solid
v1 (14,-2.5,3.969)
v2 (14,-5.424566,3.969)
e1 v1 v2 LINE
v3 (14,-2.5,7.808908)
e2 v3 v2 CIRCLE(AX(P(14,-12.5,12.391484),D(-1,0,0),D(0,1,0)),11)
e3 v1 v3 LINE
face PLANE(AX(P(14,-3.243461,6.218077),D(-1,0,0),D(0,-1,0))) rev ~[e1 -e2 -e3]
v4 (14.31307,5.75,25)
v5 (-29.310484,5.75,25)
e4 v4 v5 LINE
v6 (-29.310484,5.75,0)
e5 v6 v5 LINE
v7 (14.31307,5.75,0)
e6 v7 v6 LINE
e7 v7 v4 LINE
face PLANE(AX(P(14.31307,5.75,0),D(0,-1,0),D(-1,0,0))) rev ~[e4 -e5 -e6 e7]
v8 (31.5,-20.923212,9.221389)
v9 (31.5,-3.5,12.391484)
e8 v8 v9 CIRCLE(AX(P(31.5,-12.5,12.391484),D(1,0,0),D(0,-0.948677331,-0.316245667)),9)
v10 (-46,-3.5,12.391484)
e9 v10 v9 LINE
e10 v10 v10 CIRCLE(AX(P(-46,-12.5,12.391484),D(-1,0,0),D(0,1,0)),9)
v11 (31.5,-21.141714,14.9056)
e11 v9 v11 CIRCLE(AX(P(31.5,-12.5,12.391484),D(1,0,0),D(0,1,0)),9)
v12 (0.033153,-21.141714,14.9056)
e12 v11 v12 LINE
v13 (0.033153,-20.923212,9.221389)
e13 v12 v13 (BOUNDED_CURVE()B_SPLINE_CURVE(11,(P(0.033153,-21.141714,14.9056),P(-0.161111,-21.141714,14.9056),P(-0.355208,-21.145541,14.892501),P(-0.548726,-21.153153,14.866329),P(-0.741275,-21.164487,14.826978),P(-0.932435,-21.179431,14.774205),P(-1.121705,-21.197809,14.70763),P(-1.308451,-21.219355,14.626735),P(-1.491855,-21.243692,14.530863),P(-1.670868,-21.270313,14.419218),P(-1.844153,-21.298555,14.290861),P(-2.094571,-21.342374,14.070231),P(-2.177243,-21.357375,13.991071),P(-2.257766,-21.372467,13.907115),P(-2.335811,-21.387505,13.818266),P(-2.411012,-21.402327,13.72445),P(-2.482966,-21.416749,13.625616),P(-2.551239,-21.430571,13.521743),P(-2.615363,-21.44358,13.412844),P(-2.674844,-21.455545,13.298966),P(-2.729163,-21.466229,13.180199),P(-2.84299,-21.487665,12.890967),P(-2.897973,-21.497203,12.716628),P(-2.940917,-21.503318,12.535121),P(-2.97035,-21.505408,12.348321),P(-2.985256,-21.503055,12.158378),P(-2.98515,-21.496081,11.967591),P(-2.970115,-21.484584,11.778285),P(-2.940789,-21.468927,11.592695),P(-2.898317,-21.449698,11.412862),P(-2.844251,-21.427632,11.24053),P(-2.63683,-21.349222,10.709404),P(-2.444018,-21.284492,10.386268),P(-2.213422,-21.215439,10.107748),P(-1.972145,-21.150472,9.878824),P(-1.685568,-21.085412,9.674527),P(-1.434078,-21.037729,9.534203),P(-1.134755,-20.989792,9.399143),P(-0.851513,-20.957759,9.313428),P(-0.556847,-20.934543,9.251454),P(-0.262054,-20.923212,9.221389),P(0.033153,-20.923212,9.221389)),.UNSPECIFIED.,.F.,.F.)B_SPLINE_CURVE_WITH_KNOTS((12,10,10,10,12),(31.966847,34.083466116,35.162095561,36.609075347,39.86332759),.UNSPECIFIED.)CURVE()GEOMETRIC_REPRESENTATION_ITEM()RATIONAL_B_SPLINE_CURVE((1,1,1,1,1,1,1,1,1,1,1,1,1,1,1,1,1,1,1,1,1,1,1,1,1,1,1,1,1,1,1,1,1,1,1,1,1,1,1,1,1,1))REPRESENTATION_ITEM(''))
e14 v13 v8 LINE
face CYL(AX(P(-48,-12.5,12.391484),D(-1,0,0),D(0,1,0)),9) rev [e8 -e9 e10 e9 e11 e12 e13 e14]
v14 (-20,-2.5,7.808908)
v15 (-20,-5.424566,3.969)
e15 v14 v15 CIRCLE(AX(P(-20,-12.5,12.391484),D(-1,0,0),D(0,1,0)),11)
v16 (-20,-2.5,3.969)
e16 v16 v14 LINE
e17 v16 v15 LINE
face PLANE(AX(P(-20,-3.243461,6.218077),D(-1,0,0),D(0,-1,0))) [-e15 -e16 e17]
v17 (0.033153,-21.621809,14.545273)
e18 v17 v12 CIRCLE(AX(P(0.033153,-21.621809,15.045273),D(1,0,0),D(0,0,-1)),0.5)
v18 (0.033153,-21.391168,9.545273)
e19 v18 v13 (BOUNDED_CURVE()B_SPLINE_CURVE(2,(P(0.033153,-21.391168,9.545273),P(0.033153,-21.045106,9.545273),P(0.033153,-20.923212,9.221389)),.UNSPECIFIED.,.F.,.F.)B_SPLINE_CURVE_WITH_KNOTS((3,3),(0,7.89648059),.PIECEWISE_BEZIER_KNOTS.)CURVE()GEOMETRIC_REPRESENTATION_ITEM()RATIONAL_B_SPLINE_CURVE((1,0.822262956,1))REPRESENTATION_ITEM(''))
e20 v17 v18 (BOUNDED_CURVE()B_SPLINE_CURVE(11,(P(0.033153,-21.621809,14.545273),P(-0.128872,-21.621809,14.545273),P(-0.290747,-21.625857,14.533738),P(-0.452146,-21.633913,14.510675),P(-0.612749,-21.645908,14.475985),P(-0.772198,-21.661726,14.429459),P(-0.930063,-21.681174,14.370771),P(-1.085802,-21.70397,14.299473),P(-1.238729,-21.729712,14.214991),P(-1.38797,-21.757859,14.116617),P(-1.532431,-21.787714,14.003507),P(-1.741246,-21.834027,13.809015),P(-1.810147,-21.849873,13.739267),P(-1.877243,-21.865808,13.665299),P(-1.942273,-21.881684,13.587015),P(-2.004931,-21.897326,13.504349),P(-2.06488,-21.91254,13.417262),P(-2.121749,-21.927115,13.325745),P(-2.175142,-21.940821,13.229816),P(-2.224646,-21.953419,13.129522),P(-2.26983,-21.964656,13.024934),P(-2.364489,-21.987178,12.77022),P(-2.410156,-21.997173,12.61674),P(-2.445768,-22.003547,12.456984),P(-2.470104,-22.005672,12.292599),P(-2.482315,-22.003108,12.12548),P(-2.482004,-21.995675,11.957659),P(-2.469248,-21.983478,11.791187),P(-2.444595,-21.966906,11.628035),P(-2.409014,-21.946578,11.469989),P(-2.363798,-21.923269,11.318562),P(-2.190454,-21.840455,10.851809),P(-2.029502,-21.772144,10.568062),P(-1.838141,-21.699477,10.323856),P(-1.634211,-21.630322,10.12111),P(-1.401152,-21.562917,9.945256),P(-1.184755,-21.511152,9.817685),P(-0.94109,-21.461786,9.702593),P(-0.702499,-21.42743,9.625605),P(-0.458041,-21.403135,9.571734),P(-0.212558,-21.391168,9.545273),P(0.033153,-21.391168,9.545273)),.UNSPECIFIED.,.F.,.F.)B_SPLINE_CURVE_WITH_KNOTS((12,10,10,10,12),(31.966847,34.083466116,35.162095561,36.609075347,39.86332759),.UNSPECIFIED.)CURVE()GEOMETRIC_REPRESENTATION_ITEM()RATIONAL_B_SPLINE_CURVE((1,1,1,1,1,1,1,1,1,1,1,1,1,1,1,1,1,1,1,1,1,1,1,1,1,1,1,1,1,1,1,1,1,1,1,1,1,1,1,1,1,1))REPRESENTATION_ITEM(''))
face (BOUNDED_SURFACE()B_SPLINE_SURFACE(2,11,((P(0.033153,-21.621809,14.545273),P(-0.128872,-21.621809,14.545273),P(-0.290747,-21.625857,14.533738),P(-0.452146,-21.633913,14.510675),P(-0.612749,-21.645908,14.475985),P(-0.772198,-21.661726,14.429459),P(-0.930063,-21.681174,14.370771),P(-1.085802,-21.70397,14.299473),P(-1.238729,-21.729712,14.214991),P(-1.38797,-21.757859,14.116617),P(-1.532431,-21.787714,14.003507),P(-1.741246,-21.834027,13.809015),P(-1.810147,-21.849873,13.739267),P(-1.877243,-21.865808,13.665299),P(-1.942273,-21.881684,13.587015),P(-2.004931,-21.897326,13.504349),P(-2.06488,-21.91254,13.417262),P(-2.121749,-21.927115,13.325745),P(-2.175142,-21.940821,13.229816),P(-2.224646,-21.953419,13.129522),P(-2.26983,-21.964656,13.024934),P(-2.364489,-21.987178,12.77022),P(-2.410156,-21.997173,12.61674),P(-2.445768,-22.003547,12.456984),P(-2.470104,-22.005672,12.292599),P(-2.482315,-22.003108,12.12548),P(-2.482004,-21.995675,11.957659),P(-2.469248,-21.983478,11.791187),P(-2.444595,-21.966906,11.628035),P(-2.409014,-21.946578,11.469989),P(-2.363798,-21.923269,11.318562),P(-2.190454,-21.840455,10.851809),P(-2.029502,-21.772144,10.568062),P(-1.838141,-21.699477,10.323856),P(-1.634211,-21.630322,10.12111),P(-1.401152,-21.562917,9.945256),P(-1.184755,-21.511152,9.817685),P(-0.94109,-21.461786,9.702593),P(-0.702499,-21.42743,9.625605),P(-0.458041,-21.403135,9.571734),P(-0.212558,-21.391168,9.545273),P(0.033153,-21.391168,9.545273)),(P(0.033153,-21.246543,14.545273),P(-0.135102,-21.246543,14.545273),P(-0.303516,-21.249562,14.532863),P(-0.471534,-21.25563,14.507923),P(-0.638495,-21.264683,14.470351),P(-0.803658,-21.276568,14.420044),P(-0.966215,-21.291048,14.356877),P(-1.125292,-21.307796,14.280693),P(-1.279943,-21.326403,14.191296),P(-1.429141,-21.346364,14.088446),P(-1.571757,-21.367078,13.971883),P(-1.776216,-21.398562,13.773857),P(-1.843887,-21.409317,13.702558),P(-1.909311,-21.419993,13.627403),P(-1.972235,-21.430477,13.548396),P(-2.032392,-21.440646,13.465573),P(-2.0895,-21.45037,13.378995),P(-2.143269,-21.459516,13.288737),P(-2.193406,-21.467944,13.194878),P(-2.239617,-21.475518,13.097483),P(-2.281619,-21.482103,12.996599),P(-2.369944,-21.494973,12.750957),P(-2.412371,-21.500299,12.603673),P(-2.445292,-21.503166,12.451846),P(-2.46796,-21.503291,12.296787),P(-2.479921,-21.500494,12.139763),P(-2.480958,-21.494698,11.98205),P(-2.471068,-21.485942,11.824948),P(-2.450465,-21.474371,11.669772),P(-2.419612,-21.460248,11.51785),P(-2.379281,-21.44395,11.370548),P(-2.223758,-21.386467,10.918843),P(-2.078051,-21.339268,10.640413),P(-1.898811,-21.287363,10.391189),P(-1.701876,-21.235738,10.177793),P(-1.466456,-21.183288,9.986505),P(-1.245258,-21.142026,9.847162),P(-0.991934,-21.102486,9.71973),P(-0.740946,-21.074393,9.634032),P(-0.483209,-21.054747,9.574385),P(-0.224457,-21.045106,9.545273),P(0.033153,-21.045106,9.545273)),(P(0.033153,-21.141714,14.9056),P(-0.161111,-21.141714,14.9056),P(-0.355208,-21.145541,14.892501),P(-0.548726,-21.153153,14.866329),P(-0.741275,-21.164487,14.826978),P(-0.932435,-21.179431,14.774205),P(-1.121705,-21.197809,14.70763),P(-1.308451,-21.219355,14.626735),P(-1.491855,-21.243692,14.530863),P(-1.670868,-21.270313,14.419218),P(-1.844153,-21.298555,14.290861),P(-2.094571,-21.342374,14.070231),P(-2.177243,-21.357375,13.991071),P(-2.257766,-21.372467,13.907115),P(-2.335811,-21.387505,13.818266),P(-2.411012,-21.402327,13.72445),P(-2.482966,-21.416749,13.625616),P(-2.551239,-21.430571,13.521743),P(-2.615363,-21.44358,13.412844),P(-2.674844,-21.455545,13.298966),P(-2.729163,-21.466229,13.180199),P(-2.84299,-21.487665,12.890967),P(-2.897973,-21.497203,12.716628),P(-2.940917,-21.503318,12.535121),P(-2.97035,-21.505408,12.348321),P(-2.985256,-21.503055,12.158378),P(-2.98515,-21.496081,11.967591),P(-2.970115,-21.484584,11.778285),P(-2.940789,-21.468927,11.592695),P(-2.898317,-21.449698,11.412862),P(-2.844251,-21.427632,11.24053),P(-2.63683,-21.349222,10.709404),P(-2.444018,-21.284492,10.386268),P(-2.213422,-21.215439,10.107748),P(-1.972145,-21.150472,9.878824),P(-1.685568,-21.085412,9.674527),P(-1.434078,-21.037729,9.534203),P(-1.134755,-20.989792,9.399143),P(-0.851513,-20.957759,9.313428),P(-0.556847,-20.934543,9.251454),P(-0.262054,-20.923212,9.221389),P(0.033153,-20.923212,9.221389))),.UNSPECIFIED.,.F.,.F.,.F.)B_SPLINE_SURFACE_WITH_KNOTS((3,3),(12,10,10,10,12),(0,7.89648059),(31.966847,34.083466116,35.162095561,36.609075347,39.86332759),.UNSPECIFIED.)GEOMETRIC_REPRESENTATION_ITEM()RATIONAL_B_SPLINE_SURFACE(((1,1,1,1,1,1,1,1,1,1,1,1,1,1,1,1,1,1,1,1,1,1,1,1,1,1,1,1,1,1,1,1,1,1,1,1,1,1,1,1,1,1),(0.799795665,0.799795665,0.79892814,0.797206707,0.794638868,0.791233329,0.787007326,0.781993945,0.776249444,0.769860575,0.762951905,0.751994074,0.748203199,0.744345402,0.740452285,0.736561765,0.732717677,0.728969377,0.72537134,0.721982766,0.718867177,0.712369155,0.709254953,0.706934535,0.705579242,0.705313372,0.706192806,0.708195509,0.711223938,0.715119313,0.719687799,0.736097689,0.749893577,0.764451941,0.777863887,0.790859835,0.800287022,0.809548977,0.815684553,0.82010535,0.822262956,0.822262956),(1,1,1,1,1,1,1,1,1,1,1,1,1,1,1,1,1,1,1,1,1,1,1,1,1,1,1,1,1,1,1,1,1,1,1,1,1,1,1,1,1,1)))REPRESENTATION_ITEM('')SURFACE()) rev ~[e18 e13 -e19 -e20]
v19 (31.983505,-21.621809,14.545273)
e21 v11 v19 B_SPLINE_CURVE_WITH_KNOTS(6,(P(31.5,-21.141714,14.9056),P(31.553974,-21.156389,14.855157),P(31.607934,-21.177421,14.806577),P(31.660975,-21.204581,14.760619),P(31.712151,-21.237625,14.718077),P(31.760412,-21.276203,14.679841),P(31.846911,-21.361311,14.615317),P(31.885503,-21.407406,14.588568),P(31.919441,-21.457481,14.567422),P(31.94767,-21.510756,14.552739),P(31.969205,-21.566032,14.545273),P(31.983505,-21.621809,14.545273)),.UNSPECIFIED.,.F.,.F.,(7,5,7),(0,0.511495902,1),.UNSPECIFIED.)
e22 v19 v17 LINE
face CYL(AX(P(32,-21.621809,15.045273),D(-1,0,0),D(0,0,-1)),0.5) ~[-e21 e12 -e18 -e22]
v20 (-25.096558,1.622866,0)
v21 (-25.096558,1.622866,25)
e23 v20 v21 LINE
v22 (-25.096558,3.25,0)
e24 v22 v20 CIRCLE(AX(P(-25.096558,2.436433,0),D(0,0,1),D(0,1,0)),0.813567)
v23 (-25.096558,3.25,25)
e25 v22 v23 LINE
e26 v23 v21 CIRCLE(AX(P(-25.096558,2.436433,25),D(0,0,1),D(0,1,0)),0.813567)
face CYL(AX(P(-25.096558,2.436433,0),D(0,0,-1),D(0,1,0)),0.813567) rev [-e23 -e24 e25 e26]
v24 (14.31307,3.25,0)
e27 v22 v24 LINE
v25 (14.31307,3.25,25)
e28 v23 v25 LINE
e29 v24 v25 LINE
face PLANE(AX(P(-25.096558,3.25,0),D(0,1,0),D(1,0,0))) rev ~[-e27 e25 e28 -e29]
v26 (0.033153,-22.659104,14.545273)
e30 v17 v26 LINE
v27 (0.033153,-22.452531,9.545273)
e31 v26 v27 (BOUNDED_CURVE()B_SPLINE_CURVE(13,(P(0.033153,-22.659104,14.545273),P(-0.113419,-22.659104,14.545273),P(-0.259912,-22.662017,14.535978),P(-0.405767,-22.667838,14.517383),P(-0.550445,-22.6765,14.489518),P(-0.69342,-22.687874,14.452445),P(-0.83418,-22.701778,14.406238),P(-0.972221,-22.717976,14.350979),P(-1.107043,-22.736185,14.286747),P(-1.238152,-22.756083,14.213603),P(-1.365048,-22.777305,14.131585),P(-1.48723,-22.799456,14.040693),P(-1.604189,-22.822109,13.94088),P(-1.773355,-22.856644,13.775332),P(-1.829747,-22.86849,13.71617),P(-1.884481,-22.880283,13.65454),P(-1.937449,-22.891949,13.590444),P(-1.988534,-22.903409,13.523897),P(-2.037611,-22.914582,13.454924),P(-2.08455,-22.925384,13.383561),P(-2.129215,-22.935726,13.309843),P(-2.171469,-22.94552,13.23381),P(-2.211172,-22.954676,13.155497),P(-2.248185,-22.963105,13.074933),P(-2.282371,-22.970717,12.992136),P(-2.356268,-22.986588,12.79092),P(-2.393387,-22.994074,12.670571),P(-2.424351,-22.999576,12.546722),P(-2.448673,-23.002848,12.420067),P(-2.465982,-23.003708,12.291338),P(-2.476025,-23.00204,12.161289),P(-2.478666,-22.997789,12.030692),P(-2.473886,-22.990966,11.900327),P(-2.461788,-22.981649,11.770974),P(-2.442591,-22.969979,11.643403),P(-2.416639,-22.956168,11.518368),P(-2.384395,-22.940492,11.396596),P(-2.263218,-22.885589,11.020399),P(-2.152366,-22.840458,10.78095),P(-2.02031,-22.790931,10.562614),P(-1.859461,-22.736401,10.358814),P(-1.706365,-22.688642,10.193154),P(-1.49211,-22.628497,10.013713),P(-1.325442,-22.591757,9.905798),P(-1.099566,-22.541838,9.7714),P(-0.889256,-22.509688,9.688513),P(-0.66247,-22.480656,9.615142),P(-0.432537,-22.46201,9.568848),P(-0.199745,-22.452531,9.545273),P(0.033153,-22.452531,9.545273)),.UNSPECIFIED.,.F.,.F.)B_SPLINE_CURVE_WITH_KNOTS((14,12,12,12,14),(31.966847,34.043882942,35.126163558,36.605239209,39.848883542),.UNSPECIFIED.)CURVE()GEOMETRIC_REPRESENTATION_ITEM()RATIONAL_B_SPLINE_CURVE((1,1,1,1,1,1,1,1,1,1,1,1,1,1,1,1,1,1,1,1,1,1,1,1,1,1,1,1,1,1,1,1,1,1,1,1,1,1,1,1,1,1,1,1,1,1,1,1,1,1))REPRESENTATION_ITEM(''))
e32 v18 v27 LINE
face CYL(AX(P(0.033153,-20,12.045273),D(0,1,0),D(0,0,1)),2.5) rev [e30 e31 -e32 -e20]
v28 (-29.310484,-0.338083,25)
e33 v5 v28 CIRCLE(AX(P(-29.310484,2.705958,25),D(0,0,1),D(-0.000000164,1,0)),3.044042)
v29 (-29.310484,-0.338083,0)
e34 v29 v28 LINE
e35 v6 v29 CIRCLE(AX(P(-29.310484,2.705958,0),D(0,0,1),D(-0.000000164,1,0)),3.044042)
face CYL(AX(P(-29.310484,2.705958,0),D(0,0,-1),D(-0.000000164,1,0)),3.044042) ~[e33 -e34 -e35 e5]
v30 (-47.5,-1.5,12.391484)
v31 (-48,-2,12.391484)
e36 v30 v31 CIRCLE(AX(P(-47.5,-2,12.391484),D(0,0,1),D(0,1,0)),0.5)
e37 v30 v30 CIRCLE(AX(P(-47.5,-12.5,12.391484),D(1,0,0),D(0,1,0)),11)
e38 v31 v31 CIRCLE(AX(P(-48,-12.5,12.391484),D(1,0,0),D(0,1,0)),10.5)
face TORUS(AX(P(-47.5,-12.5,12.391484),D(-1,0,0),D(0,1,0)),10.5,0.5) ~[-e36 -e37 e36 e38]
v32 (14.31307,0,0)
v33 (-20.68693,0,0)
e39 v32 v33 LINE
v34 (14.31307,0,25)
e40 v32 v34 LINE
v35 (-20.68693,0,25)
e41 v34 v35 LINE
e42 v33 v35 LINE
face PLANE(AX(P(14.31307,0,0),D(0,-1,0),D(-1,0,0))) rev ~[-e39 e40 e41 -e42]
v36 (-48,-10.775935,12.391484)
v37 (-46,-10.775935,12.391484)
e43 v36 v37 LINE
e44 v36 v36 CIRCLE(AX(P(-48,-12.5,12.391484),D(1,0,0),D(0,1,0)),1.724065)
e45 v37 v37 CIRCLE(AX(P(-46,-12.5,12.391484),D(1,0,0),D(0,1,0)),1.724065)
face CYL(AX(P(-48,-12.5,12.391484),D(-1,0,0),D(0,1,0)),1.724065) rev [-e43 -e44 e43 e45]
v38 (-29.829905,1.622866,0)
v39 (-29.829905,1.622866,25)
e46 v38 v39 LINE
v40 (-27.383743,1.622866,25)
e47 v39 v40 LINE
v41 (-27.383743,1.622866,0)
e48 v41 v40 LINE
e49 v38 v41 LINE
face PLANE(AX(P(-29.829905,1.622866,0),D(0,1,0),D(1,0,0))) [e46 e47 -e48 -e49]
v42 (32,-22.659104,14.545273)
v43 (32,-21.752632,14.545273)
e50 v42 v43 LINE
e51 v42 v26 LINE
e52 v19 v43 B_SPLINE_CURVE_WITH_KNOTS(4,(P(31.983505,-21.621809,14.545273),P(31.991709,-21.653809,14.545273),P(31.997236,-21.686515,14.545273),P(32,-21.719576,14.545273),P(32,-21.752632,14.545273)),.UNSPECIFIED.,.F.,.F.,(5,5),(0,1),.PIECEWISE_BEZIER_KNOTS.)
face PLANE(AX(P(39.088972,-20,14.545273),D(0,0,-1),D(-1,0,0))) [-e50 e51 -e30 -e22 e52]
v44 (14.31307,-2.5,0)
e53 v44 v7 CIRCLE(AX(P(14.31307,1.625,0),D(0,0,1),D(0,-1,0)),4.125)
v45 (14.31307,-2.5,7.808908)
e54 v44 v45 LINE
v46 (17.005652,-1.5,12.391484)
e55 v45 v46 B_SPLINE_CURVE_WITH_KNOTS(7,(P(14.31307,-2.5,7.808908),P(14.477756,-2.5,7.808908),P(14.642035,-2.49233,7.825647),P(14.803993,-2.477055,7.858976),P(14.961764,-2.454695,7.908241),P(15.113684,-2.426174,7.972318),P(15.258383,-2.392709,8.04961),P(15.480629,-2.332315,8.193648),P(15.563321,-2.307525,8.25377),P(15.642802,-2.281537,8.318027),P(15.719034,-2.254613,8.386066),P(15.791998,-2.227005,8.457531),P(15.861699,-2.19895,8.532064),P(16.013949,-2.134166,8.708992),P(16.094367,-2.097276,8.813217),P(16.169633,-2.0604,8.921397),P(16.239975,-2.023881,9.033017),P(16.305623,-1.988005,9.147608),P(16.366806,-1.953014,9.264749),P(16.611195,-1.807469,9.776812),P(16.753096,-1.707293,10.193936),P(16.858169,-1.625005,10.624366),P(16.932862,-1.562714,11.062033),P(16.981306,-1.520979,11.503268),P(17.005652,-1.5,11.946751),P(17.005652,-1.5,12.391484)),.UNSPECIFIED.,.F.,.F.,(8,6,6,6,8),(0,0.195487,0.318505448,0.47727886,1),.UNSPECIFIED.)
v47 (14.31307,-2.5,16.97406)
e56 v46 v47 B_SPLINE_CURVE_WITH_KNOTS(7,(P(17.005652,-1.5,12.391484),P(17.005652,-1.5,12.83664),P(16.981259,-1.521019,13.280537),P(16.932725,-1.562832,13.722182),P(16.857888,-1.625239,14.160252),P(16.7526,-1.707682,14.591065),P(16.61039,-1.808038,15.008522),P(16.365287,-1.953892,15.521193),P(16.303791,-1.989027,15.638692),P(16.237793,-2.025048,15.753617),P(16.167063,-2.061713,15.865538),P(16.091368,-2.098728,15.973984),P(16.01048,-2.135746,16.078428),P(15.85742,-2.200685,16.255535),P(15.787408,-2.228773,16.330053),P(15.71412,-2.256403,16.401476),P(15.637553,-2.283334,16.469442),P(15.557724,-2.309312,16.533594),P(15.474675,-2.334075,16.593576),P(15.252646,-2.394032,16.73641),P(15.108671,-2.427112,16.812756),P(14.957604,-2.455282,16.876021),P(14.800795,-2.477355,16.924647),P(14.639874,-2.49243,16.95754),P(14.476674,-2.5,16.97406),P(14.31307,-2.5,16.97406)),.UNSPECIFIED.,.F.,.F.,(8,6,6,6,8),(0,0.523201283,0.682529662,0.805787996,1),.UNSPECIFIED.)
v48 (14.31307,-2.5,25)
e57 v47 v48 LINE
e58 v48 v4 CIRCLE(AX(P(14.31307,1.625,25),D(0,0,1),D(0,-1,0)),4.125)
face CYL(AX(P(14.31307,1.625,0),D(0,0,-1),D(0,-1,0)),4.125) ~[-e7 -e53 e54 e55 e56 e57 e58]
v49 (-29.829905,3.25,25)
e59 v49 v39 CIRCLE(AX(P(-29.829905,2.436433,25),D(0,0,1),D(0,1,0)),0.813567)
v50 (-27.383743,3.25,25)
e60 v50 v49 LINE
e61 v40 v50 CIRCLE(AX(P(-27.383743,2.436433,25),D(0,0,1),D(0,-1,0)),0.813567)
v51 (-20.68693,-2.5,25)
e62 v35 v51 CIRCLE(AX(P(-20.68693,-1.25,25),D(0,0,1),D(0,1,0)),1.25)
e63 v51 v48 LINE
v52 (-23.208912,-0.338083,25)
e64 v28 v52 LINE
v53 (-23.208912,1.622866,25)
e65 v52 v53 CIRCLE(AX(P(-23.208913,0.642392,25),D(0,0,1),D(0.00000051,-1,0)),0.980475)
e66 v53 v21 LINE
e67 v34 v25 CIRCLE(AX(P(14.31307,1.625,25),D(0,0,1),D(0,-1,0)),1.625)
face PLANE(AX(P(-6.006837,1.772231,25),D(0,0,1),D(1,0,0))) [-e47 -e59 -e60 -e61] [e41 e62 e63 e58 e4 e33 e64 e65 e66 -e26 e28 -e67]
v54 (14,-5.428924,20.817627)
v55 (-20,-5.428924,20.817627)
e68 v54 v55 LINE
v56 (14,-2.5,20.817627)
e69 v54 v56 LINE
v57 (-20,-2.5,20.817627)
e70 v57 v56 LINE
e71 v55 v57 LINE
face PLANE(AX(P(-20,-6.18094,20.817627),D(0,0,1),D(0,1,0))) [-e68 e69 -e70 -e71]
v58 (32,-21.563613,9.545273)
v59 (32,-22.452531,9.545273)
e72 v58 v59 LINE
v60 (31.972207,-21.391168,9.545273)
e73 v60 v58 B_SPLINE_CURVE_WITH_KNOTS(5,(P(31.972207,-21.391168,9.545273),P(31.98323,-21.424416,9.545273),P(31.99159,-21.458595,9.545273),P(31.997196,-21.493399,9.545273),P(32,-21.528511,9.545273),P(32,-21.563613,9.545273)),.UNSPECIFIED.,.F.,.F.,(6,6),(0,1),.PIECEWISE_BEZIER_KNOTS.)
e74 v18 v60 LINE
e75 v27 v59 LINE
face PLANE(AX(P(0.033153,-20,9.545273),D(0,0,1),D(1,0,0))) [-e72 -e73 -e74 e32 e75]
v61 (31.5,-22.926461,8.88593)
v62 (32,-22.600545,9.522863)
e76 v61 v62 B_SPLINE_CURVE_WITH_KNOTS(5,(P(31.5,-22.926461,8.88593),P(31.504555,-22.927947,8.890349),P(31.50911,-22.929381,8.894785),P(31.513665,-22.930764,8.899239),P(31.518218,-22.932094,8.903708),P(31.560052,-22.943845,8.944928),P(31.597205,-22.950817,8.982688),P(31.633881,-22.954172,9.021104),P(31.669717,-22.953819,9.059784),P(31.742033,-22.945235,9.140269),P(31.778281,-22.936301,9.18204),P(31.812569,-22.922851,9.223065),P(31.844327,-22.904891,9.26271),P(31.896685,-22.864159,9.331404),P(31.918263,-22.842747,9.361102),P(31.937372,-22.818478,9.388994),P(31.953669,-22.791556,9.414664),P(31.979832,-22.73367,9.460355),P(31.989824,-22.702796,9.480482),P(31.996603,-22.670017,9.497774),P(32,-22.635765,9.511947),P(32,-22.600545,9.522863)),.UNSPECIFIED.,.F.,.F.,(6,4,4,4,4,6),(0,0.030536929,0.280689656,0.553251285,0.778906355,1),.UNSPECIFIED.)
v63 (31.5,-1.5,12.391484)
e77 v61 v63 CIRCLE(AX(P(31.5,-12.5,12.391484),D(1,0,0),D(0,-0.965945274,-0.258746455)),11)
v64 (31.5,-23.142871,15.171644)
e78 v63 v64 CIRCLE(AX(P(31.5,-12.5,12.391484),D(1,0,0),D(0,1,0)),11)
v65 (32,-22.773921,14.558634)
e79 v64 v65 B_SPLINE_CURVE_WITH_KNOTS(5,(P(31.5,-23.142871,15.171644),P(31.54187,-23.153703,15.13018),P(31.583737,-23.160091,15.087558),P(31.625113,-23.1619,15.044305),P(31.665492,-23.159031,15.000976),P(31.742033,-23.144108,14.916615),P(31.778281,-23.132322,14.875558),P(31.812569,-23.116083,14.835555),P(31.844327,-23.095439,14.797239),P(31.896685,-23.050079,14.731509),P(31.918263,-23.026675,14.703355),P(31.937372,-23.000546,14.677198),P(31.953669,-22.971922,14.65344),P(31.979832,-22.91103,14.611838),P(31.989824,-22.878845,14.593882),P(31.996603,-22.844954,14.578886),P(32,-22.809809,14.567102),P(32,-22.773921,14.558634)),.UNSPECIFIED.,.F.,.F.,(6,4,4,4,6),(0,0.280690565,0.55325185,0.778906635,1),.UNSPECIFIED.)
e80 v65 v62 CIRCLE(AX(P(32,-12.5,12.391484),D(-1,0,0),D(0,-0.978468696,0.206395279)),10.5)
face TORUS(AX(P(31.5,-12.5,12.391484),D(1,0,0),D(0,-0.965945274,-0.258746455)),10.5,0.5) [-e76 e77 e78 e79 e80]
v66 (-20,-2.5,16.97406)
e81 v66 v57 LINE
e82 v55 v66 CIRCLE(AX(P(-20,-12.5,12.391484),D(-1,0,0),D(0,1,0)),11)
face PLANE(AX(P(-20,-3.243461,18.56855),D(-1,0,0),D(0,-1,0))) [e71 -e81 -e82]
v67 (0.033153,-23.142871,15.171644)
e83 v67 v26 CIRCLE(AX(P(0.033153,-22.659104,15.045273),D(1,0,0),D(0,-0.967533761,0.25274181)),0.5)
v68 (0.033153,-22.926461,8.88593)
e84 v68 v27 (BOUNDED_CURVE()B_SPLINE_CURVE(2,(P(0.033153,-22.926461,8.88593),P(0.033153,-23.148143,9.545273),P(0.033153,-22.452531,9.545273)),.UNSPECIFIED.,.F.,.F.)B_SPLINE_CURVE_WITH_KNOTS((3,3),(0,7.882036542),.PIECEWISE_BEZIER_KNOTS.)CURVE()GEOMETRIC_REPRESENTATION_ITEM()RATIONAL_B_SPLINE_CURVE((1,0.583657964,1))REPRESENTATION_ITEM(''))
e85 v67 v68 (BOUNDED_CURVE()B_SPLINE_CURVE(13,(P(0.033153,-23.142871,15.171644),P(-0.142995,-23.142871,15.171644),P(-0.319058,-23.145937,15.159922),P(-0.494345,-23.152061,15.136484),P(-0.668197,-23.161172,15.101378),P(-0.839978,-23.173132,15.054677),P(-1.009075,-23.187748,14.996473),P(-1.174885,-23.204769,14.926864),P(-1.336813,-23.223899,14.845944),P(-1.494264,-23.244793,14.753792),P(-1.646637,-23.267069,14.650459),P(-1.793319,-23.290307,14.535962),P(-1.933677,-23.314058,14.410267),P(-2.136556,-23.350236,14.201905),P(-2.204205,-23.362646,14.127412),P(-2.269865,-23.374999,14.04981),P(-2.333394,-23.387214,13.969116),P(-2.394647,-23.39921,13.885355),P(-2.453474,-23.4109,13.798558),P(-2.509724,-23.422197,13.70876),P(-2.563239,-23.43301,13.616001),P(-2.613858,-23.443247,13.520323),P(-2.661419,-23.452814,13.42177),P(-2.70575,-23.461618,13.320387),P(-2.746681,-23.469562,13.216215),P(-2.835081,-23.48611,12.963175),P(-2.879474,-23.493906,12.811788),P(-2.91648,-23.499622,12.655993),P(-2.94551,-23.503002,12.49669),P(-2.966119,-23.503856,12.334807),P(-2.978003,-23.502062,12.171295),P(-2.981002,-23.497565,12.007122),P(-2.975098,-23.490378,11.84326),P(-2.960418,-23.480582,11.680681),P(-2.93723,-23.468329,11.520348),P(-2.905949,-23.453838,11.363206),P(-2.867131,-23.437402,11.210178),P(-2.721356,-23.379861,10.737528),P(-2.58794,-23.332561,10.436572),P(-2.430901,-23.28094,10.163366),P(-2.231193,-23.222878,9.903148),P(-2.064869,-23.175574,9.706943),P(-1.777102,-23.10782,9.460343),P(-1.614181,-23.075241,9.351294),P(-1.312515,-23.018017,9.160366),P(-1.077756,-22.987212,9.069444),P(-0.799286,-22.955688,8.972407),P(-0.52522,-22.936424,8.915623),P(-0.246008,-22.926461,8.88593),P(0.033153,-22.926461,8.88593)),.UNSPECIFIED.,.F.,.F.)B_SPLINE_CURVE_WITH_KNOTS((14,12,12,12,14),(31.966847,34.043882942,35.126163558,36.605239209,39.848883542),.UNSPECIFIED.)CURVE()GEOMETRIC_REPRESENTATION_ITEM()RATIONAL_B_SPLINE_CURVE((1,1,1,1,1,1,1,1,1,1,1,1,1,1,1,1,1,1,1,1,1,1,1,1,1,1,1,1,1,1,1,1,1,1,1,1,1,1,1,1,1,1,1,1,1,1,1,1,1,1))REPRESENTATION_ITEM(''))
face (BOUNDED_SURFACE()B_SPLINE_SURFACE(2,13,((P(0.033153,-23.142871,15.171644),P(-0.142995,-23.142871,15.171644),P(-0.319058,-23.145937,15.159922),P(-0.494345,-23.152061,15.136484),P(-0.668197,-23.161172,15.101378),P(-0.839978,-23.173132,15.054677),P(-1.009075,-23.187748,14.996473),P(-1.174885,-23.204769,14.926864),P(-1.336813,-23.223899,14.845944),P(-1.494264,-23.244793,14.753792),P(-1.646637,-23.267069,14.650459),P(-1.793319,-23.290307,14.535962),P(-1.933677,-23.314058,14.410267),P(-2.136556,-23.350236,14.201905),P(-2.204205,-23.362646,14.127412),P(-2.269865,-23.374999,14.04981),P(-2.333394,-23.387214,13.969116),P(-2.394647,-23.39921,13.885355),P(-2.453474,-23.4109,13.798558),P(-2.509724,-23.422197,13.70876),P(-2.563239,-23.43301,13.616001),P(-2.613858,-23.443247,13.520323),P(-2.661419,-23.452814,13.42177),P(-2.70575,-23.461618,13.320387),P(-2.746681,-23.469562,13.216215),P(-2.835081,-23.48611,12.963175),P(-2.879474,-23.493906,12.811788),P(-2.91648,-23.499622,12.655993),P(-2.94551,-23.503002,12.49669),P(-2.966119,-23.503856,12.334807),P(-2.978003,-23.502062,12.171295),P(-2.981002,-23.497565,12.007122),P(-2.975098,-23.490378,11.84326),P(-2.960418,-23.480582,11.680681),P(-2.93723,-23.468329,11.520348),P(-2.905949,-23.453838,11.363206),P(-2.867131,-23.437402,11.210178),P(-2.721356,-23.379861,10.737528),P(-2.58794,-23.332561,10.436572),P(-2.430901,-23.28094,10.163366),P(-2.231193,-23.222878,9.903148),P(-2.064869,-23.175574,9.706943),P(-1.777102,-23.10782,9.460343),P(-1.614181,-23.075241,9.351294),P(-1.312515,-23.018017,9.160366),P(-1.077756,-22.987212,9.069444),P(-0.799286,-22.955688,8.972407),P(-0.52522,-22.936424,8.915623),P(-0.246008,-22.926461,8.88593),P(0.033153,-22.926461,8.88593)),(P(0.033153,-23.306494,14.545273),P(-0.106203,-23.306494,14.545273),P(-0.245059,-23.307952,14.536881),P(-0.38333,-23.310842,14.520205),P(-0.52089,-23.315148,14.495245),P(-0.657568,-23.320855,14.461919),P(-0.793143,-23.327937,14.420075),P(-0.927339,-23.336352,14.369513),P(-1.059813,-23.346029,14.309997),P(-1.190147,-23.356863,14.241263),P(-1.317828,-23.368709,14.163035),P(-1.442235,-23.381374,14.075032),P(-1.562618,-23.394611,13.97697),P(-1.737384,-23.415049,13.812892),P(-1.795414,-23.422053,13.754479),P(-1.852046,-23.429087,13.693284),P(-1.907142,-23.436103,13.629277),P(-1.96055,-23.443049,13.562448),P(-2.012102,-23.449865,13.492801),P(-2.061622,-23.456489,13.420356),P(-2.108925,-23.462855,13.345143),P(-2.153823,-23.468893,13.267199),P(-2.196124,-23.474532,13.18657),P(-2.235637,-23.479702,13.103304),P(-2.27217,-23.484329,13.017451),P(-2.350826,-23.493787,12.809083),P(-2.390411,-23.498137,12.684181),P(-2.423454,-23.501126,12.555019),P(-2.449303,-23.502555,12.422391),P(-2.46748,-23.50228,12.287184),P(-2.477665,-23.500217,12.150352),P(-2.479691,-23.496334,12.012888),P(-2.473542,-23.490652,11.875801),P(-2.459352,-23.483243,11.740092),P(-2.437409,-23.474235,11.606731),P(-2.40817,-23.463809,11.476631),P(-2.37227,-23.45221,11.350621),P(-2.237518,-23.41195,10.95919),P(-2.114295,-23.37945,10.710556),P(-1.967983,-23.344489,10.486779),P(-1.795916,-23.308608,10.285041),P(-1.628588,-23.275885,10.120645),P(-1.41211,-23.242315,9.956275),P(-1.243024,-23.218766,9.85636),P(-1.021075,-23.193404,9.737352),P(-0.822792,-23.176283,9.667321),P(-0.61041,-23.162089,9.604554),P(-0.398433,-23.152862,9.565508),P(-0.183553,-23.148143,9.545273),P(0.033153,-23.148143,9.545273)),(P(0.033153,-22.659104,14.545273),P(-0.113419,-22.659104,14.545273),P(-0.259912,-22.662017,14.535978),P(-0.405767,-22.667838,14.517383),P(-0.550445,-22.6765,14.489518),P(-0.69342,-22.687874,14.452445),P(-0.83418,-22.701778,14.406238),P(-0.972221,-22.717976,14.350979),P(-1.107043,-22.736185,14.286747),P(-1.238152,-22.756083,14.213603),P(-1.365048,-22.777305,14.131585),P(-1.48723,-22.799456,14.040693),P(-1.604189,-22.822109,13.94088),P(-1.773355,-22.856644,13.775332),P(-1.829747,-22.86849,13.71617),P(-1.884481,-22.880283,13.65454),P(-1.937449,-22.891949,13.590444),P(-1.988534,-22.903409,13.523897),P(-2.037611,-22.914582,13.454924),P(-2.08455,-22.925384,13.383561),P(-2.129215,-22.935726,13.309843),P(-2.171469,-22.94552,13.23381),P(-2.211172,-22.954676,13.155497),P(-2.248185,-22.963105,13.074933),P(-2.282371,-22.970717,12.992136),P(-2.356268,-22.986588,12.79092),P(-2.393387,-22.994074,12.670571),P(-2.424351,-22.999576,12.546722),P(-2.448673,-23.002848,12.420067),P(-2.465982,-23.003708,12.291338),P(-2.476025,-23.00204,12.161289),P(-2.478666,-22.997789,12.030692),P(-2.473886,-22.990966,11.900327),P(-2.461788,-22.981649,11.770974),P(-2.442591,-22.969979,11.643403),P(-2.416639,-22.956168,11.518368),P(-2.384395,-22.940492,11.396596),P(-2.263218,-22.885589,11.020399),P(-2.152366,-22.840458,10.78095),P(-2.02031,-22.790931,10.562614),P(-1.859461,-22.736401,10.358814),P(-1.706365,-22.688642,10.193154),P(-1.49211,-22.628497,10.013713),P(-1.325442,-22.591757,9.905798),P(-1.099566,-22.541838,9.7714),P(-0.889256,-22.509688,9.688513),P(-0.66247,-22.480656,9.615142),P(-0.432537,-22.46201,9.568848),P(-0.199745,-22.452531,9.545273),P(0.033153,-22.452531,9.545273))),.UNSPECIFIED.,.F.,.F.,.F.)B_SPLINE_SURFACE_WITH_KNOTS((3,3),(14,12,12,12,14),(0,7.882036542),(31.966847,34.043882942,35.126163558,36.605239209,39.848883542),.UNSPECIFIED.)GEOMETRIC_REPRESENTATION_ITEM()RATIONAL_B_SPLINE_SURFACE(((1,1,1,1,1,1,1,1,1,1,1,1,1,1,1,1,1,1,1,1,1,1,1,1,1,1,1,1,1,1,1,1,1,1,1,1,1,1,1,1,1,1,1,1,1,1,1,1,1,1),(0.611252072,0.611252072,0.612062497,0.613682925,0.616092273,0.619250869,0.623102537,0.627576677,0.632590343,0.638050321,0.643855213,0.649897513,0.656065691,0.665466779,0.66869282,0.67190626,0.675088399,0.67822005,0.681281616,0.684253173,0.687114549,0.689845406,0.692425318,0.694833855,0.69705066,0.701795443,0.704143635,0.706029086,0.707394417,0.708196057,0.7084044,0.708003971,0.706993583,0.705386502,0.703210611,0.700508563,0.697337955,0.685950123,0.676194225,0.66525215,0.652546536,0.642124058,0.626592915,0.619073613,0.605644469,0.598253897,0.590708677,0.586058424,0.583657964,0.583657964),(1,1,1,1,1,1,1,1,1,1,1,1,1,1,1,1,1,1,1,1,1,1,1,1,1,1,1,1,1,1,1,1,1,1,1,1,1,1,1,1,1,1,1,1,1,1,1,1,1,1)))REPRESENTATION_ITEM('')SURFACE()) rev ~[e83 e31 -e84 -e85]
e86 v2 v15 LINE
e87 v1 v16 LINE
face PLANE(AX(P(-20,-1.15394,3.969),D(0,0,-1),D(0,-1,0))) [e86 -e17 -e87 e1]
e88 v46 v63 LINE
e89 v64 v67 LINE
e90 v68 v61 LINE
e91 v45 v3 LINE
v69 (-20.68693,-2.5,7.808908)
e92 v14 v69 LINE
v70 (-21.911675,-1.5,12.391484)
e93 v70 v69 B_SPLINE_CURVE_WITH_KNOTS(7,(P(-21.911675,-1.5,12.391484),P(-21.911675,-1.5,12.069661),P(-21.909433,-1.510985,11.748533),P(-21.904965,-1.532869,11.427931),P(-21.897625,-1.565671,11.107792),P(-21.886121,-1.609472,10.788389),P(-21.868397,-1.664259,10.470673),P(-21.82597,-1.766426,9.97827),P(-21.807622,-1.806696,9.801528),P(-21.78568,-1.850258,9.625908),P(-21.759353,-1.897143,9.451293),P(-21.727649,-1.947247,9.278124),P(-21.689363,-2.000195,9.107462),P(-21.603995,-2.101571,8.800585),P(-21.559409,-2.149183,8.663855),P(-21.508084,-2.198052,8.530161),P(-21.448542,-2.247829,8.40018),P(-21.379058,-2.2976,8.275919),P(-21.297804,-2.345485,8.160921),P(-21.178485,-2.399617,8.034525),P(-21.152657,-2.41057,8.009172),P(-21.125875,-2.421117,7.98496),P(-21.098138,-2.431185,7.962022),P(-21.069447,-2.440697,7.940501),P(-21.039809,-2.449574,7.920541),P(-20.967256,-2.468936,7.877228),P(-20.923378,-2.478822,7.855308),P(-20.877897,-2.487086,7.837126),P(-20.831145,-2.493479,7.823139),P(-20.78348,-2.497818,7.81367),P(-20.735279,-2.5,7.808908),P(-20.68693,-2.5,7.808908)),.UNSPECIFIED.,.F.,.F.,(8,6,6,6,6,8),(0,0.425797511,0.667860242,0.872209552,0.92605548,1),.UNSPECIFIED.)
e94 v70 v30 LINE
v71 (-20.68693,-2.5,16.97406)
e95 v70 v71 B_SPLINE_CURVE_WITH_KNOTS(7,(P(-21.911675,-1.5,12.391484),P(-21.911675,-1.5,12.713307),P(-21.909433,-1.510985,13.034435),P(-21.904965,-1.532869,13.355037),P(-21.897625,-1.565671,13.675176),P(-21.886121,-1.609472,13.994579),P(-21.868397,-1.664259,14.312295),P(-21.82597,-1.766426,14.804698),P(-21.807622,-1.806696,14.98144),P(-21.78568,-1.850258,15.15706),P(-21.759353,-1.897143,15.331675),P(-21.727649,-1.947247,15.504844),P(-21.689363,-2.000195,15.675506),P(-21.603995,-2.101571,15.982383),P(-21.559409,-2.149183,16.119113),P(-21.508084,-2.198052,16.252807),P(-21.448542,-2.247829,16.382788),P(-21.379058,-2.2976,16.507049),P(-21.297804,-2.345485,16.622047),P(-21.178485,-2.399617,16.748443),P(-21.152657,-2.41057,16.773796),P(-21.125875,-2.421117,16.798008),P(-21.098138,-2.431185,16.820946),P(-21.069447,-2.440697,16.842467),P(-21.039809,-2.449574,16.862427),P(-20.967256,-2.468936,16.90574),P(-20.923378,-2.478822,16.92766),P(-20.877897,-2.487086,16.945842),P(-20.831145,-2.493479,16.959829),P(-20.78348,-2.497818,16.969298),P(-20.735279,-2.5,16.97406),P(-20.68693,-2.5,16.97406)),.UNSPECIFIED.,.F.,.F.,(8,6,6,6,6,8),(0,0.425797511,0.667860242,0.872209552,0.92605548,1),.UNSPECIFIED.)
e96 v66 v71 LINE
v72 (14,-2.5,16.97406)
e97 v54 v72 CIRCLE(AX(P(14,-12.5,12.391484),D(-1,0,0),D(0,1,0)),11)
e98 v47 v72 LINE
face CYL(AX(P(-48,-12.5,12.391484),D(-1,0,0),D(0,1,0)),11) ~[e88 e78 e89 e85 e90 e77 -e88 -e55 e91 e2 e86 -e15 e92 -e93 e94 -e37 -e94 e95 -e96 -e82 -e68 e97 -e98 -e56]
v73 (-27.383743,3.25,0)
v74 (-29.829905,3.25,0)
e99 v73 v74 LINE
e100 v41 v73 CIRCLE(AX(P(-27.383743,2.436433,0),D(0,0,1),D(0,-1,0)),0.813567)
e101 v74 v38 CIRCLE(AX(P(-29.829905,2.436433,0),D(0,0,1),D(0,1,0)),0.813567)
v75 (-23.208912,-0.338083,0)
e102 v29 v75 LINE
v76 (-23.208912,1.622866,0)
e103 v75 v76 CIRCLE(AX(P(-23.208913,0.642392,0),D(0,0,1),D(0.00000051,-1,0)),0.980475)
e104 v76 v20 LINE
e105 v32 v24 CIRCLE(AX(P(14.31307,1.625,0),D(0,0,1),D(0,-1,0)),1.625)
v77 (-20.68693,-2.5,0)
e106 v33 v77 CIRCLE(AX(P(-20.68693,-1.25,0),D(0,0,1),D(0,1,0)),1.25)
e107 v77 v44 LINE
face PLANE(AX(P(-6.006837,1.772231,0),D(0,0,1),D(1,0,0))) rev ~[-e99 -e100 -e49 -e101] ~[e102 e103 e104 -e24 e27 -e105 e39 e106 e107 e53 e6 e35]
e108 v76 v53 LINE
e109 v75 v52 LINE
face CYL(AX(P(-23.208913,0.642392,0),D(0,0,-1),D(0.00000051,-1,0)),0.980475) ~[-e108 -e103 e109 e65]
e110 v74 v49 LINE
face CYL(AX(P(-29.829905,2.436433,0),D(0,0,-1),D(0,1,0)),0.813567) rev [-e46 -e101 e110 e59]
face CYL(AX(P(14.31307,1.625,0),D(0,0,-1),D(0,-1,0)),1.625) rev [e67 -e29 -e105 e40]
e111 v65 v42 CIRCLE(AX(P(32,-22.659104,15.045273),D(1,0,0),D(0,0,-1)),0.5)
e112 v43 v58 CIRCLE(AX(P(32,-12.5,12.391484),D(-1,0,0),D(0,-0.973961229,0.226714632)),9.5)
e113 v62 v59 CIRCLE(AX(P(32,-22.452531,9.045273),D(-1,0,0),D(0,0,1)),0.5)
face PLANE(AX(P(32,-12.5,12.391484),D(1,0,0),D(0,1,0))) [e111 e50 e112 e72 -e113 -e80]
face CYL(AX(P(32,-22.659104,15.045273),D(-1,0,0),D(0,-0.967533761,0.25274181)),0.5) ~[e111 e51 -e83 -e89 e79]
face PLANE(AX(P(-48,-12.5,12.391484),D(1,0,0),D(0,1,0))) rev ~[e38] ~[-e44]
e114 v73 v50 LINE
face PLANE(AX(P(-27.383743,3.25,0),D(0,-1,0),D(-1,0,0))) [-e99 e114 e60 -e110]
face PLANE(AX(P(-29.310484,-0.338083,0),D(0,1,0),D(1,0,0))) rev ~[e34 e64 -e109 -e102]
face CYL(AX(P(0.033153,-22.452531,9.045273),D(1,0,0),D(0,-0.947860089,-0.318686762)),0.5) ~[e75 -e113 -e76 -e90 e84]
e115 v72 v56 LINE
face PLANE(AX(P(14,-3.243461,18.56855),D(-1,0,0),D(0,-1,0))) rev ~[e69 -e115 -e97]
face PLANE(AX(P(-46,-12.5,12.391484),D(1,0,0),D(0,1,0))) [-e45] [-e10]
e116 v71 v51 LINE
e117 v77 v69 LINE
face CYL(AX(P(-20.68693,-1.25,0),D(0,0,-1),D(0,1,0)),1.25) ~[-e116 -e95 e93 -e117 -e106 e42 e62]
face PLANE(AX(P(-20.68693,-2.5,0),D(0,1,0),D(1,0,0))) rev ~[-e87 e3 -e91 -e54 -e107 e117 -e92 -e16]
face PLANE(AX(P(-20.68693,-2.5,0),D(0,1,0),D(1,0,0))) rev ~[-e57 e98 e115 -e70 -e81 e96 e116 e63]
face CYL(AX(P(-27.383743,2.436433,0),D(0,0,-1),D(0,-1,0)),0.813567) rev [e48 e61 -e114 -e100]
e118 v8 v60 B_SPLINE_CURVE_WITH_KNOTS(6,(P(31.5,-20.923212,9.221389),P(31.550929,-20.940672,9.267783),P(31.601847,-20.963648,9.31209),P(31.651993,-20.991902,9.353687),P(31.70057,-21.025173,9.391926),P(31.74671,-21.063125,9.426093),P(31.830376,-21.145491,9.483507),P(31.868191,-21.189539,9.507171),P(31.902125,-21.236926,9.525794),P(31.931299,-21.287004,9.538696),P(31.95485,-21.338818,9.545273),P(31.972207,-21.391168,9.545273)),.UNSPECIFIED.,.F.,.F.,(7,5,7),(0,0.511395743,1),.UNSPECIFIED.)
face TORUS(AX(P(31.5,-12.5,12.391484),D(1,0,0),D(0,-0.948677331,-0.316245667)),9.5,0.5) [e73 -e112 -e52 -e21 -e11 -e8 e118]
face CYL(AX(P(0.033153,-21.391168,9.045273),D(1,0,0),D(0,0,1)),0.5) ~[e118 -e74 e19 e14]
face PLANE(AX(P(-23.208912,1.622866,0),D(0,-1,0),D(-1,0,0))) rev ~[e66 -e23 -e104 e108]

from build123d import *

# Parameters (mm, degrees)
PAD_DEPTH     = 25
SKETCH001_R   = 11
SKETCH001_R_2 = 9
PAD001_DEPTH  = 80
SKETCH003_R   = 11
SKETCH003_R_2 = 1.724065
PAD003_DEPTH  = 2
POCKET_DEPTH  = 5
PAD004_DEPTH  = 34
FILLET_R      = 0.5


with BuildPart() as part:
    # Sketch → Pad (new body)
    with BuildSketch(Plane.XY):
        with BuildLine():
            Line((-20.68693, -2.5), (14.31307, -2.5))
            ThreePointArc((14.31307, -2.5), (18.43807, 1.625), (14.31307, 5.75))
            Line((14.31307, 5.75), (-29.310484, 5.75))
            ThreePointArc((-29.310484, 5.75), (-32.354525, 2.705959), (-29.310484, -0.338083))
            Line((-29.310484, -0.338083), (-23.208912, -0.338083))
            ThreePointArc((-23.208912, -0.338083), (-22.228438, 0.642392), (-23.208912, 1.622866))
            Line((-23.208912, 1.622866), (-25.096558, 1.622866))
            ThreePointArc((-25.096558, 3.25), (-25.910125, 2.436433), (-25.096558, 1.622866))
            Line((-25.096558, 3.25), (-23.043861, 3.25))
            Line((-23.043861, 3.25), (14.31307, 3.25))
            ThreePointArc((14.31307, 0), (15.93807, 1.625), (14.31307, 3.25))
            Line((14.31307, 0), (-20.68693, 0))
            ThreePointArc((-20.68693, 0), (-21.93693, -1.25), (-20.68693, -2.5))
        make_face()
        with BuildLine():
            ThreePointArc((-29.829905, 3.25), (-30.643472, 2.436433), (-29.829905, 1.622866))
            Line((-29.829905, 1.622866), (-27.383743, 1.622866))
            ThreePointArc((-27.383743, 1.622866), (-26.570176, 2.436433), (-27.383743, 3.25))
            Line((-27.383743, 3.25), (-29.829905, 3.25))
        make_face(mode=Mode.SUBTRACT)
    extrude(amount=PAD_DEPTH)

    # Sketch001 → Pad001 (join)
    with BuildSketch(Plane.YZ.offset(-48)):
        with Locations((-12.5, 12.391484)):
            Circle(SKETCH001_R)
        with Locations((-12.5, 12.391484)):
            Circle(SKETCH001_R_2, mode=Mode.SUBTRACT)
    extrude(amount=PAD001_DEPTH)

    # Sketch003 → Pad003 (join)
    with BuildSketch(Plane.YZ.offset(-48)):
        with Locations((-12.5, 12.391484)):
            Circle(SKETCH003_R)
        with Locations((-12.5, 12.391484)):
            Circle(SKETCH003_R_2, mode=Mode.SUBTRACT)
    extrude(amount=PAD003_DEPTH)

    # Sketch004 → Pocket (cut)
    with BuildSketch(Plane.XZ.offset(20)):
        with BuildLine():
            ThreePointArc((39.088972, 9.545273), (41.588972, 12.045273), (39.088972, 14.545273))
            Line((39.088972, 14.545273), (0.033153, 14.545273))
            ThreePointArc((0.033153, 14.545273), (-2.466847, 12.045273), (0.033153, 9.545273))
            Line((0.033153, 9.545273), (39.088972, 9.545273))
        make_face()
    extrude(amount=POCKET_DEPTH, mode=Mode.SUBTRACT)

    # Sketch002 → Pad004 (join)
    with BuildSketch(Plane.YZ.offset(-20)):
        Polygon((-6.18094, 20.817627), (-1.15394, 20.817627), (-1.15394, 15.631813), (-3.60294, 15.631813), (-6.18094, 19.960645), align=None)
        Polygon((-3.60294, 9.154813), (-1.15394, 9.154813), (-1.15394, 3.969), (-6.18094, 3.969), (-6.18094, 4.825982), align=None)
    extrude(amount=PAD004_DEPTH)

    # Fillet
    fillet_edges = [part.edges().sort_by_distance(p)[0] for p in [
        (32, -11.417857, 23.338126),
        (32, -11.415197, 21.325867),
        (16.016576, -23.287085, 14.545273),
        (-2.46684, -23.494353, 12.039074),
        (16.016576, -23.125398, 9.545273),
        (16.016576, -21.238489, 14.545273),
        (-2.466829, -21.49297, 12.035825),
        (16.016576, -21.038096, 9.545273),
        (-48, -23.5, 12.391484),
    ]]
    fillet(fillet_edges, radius=FILLET_R)


solid = part.part
